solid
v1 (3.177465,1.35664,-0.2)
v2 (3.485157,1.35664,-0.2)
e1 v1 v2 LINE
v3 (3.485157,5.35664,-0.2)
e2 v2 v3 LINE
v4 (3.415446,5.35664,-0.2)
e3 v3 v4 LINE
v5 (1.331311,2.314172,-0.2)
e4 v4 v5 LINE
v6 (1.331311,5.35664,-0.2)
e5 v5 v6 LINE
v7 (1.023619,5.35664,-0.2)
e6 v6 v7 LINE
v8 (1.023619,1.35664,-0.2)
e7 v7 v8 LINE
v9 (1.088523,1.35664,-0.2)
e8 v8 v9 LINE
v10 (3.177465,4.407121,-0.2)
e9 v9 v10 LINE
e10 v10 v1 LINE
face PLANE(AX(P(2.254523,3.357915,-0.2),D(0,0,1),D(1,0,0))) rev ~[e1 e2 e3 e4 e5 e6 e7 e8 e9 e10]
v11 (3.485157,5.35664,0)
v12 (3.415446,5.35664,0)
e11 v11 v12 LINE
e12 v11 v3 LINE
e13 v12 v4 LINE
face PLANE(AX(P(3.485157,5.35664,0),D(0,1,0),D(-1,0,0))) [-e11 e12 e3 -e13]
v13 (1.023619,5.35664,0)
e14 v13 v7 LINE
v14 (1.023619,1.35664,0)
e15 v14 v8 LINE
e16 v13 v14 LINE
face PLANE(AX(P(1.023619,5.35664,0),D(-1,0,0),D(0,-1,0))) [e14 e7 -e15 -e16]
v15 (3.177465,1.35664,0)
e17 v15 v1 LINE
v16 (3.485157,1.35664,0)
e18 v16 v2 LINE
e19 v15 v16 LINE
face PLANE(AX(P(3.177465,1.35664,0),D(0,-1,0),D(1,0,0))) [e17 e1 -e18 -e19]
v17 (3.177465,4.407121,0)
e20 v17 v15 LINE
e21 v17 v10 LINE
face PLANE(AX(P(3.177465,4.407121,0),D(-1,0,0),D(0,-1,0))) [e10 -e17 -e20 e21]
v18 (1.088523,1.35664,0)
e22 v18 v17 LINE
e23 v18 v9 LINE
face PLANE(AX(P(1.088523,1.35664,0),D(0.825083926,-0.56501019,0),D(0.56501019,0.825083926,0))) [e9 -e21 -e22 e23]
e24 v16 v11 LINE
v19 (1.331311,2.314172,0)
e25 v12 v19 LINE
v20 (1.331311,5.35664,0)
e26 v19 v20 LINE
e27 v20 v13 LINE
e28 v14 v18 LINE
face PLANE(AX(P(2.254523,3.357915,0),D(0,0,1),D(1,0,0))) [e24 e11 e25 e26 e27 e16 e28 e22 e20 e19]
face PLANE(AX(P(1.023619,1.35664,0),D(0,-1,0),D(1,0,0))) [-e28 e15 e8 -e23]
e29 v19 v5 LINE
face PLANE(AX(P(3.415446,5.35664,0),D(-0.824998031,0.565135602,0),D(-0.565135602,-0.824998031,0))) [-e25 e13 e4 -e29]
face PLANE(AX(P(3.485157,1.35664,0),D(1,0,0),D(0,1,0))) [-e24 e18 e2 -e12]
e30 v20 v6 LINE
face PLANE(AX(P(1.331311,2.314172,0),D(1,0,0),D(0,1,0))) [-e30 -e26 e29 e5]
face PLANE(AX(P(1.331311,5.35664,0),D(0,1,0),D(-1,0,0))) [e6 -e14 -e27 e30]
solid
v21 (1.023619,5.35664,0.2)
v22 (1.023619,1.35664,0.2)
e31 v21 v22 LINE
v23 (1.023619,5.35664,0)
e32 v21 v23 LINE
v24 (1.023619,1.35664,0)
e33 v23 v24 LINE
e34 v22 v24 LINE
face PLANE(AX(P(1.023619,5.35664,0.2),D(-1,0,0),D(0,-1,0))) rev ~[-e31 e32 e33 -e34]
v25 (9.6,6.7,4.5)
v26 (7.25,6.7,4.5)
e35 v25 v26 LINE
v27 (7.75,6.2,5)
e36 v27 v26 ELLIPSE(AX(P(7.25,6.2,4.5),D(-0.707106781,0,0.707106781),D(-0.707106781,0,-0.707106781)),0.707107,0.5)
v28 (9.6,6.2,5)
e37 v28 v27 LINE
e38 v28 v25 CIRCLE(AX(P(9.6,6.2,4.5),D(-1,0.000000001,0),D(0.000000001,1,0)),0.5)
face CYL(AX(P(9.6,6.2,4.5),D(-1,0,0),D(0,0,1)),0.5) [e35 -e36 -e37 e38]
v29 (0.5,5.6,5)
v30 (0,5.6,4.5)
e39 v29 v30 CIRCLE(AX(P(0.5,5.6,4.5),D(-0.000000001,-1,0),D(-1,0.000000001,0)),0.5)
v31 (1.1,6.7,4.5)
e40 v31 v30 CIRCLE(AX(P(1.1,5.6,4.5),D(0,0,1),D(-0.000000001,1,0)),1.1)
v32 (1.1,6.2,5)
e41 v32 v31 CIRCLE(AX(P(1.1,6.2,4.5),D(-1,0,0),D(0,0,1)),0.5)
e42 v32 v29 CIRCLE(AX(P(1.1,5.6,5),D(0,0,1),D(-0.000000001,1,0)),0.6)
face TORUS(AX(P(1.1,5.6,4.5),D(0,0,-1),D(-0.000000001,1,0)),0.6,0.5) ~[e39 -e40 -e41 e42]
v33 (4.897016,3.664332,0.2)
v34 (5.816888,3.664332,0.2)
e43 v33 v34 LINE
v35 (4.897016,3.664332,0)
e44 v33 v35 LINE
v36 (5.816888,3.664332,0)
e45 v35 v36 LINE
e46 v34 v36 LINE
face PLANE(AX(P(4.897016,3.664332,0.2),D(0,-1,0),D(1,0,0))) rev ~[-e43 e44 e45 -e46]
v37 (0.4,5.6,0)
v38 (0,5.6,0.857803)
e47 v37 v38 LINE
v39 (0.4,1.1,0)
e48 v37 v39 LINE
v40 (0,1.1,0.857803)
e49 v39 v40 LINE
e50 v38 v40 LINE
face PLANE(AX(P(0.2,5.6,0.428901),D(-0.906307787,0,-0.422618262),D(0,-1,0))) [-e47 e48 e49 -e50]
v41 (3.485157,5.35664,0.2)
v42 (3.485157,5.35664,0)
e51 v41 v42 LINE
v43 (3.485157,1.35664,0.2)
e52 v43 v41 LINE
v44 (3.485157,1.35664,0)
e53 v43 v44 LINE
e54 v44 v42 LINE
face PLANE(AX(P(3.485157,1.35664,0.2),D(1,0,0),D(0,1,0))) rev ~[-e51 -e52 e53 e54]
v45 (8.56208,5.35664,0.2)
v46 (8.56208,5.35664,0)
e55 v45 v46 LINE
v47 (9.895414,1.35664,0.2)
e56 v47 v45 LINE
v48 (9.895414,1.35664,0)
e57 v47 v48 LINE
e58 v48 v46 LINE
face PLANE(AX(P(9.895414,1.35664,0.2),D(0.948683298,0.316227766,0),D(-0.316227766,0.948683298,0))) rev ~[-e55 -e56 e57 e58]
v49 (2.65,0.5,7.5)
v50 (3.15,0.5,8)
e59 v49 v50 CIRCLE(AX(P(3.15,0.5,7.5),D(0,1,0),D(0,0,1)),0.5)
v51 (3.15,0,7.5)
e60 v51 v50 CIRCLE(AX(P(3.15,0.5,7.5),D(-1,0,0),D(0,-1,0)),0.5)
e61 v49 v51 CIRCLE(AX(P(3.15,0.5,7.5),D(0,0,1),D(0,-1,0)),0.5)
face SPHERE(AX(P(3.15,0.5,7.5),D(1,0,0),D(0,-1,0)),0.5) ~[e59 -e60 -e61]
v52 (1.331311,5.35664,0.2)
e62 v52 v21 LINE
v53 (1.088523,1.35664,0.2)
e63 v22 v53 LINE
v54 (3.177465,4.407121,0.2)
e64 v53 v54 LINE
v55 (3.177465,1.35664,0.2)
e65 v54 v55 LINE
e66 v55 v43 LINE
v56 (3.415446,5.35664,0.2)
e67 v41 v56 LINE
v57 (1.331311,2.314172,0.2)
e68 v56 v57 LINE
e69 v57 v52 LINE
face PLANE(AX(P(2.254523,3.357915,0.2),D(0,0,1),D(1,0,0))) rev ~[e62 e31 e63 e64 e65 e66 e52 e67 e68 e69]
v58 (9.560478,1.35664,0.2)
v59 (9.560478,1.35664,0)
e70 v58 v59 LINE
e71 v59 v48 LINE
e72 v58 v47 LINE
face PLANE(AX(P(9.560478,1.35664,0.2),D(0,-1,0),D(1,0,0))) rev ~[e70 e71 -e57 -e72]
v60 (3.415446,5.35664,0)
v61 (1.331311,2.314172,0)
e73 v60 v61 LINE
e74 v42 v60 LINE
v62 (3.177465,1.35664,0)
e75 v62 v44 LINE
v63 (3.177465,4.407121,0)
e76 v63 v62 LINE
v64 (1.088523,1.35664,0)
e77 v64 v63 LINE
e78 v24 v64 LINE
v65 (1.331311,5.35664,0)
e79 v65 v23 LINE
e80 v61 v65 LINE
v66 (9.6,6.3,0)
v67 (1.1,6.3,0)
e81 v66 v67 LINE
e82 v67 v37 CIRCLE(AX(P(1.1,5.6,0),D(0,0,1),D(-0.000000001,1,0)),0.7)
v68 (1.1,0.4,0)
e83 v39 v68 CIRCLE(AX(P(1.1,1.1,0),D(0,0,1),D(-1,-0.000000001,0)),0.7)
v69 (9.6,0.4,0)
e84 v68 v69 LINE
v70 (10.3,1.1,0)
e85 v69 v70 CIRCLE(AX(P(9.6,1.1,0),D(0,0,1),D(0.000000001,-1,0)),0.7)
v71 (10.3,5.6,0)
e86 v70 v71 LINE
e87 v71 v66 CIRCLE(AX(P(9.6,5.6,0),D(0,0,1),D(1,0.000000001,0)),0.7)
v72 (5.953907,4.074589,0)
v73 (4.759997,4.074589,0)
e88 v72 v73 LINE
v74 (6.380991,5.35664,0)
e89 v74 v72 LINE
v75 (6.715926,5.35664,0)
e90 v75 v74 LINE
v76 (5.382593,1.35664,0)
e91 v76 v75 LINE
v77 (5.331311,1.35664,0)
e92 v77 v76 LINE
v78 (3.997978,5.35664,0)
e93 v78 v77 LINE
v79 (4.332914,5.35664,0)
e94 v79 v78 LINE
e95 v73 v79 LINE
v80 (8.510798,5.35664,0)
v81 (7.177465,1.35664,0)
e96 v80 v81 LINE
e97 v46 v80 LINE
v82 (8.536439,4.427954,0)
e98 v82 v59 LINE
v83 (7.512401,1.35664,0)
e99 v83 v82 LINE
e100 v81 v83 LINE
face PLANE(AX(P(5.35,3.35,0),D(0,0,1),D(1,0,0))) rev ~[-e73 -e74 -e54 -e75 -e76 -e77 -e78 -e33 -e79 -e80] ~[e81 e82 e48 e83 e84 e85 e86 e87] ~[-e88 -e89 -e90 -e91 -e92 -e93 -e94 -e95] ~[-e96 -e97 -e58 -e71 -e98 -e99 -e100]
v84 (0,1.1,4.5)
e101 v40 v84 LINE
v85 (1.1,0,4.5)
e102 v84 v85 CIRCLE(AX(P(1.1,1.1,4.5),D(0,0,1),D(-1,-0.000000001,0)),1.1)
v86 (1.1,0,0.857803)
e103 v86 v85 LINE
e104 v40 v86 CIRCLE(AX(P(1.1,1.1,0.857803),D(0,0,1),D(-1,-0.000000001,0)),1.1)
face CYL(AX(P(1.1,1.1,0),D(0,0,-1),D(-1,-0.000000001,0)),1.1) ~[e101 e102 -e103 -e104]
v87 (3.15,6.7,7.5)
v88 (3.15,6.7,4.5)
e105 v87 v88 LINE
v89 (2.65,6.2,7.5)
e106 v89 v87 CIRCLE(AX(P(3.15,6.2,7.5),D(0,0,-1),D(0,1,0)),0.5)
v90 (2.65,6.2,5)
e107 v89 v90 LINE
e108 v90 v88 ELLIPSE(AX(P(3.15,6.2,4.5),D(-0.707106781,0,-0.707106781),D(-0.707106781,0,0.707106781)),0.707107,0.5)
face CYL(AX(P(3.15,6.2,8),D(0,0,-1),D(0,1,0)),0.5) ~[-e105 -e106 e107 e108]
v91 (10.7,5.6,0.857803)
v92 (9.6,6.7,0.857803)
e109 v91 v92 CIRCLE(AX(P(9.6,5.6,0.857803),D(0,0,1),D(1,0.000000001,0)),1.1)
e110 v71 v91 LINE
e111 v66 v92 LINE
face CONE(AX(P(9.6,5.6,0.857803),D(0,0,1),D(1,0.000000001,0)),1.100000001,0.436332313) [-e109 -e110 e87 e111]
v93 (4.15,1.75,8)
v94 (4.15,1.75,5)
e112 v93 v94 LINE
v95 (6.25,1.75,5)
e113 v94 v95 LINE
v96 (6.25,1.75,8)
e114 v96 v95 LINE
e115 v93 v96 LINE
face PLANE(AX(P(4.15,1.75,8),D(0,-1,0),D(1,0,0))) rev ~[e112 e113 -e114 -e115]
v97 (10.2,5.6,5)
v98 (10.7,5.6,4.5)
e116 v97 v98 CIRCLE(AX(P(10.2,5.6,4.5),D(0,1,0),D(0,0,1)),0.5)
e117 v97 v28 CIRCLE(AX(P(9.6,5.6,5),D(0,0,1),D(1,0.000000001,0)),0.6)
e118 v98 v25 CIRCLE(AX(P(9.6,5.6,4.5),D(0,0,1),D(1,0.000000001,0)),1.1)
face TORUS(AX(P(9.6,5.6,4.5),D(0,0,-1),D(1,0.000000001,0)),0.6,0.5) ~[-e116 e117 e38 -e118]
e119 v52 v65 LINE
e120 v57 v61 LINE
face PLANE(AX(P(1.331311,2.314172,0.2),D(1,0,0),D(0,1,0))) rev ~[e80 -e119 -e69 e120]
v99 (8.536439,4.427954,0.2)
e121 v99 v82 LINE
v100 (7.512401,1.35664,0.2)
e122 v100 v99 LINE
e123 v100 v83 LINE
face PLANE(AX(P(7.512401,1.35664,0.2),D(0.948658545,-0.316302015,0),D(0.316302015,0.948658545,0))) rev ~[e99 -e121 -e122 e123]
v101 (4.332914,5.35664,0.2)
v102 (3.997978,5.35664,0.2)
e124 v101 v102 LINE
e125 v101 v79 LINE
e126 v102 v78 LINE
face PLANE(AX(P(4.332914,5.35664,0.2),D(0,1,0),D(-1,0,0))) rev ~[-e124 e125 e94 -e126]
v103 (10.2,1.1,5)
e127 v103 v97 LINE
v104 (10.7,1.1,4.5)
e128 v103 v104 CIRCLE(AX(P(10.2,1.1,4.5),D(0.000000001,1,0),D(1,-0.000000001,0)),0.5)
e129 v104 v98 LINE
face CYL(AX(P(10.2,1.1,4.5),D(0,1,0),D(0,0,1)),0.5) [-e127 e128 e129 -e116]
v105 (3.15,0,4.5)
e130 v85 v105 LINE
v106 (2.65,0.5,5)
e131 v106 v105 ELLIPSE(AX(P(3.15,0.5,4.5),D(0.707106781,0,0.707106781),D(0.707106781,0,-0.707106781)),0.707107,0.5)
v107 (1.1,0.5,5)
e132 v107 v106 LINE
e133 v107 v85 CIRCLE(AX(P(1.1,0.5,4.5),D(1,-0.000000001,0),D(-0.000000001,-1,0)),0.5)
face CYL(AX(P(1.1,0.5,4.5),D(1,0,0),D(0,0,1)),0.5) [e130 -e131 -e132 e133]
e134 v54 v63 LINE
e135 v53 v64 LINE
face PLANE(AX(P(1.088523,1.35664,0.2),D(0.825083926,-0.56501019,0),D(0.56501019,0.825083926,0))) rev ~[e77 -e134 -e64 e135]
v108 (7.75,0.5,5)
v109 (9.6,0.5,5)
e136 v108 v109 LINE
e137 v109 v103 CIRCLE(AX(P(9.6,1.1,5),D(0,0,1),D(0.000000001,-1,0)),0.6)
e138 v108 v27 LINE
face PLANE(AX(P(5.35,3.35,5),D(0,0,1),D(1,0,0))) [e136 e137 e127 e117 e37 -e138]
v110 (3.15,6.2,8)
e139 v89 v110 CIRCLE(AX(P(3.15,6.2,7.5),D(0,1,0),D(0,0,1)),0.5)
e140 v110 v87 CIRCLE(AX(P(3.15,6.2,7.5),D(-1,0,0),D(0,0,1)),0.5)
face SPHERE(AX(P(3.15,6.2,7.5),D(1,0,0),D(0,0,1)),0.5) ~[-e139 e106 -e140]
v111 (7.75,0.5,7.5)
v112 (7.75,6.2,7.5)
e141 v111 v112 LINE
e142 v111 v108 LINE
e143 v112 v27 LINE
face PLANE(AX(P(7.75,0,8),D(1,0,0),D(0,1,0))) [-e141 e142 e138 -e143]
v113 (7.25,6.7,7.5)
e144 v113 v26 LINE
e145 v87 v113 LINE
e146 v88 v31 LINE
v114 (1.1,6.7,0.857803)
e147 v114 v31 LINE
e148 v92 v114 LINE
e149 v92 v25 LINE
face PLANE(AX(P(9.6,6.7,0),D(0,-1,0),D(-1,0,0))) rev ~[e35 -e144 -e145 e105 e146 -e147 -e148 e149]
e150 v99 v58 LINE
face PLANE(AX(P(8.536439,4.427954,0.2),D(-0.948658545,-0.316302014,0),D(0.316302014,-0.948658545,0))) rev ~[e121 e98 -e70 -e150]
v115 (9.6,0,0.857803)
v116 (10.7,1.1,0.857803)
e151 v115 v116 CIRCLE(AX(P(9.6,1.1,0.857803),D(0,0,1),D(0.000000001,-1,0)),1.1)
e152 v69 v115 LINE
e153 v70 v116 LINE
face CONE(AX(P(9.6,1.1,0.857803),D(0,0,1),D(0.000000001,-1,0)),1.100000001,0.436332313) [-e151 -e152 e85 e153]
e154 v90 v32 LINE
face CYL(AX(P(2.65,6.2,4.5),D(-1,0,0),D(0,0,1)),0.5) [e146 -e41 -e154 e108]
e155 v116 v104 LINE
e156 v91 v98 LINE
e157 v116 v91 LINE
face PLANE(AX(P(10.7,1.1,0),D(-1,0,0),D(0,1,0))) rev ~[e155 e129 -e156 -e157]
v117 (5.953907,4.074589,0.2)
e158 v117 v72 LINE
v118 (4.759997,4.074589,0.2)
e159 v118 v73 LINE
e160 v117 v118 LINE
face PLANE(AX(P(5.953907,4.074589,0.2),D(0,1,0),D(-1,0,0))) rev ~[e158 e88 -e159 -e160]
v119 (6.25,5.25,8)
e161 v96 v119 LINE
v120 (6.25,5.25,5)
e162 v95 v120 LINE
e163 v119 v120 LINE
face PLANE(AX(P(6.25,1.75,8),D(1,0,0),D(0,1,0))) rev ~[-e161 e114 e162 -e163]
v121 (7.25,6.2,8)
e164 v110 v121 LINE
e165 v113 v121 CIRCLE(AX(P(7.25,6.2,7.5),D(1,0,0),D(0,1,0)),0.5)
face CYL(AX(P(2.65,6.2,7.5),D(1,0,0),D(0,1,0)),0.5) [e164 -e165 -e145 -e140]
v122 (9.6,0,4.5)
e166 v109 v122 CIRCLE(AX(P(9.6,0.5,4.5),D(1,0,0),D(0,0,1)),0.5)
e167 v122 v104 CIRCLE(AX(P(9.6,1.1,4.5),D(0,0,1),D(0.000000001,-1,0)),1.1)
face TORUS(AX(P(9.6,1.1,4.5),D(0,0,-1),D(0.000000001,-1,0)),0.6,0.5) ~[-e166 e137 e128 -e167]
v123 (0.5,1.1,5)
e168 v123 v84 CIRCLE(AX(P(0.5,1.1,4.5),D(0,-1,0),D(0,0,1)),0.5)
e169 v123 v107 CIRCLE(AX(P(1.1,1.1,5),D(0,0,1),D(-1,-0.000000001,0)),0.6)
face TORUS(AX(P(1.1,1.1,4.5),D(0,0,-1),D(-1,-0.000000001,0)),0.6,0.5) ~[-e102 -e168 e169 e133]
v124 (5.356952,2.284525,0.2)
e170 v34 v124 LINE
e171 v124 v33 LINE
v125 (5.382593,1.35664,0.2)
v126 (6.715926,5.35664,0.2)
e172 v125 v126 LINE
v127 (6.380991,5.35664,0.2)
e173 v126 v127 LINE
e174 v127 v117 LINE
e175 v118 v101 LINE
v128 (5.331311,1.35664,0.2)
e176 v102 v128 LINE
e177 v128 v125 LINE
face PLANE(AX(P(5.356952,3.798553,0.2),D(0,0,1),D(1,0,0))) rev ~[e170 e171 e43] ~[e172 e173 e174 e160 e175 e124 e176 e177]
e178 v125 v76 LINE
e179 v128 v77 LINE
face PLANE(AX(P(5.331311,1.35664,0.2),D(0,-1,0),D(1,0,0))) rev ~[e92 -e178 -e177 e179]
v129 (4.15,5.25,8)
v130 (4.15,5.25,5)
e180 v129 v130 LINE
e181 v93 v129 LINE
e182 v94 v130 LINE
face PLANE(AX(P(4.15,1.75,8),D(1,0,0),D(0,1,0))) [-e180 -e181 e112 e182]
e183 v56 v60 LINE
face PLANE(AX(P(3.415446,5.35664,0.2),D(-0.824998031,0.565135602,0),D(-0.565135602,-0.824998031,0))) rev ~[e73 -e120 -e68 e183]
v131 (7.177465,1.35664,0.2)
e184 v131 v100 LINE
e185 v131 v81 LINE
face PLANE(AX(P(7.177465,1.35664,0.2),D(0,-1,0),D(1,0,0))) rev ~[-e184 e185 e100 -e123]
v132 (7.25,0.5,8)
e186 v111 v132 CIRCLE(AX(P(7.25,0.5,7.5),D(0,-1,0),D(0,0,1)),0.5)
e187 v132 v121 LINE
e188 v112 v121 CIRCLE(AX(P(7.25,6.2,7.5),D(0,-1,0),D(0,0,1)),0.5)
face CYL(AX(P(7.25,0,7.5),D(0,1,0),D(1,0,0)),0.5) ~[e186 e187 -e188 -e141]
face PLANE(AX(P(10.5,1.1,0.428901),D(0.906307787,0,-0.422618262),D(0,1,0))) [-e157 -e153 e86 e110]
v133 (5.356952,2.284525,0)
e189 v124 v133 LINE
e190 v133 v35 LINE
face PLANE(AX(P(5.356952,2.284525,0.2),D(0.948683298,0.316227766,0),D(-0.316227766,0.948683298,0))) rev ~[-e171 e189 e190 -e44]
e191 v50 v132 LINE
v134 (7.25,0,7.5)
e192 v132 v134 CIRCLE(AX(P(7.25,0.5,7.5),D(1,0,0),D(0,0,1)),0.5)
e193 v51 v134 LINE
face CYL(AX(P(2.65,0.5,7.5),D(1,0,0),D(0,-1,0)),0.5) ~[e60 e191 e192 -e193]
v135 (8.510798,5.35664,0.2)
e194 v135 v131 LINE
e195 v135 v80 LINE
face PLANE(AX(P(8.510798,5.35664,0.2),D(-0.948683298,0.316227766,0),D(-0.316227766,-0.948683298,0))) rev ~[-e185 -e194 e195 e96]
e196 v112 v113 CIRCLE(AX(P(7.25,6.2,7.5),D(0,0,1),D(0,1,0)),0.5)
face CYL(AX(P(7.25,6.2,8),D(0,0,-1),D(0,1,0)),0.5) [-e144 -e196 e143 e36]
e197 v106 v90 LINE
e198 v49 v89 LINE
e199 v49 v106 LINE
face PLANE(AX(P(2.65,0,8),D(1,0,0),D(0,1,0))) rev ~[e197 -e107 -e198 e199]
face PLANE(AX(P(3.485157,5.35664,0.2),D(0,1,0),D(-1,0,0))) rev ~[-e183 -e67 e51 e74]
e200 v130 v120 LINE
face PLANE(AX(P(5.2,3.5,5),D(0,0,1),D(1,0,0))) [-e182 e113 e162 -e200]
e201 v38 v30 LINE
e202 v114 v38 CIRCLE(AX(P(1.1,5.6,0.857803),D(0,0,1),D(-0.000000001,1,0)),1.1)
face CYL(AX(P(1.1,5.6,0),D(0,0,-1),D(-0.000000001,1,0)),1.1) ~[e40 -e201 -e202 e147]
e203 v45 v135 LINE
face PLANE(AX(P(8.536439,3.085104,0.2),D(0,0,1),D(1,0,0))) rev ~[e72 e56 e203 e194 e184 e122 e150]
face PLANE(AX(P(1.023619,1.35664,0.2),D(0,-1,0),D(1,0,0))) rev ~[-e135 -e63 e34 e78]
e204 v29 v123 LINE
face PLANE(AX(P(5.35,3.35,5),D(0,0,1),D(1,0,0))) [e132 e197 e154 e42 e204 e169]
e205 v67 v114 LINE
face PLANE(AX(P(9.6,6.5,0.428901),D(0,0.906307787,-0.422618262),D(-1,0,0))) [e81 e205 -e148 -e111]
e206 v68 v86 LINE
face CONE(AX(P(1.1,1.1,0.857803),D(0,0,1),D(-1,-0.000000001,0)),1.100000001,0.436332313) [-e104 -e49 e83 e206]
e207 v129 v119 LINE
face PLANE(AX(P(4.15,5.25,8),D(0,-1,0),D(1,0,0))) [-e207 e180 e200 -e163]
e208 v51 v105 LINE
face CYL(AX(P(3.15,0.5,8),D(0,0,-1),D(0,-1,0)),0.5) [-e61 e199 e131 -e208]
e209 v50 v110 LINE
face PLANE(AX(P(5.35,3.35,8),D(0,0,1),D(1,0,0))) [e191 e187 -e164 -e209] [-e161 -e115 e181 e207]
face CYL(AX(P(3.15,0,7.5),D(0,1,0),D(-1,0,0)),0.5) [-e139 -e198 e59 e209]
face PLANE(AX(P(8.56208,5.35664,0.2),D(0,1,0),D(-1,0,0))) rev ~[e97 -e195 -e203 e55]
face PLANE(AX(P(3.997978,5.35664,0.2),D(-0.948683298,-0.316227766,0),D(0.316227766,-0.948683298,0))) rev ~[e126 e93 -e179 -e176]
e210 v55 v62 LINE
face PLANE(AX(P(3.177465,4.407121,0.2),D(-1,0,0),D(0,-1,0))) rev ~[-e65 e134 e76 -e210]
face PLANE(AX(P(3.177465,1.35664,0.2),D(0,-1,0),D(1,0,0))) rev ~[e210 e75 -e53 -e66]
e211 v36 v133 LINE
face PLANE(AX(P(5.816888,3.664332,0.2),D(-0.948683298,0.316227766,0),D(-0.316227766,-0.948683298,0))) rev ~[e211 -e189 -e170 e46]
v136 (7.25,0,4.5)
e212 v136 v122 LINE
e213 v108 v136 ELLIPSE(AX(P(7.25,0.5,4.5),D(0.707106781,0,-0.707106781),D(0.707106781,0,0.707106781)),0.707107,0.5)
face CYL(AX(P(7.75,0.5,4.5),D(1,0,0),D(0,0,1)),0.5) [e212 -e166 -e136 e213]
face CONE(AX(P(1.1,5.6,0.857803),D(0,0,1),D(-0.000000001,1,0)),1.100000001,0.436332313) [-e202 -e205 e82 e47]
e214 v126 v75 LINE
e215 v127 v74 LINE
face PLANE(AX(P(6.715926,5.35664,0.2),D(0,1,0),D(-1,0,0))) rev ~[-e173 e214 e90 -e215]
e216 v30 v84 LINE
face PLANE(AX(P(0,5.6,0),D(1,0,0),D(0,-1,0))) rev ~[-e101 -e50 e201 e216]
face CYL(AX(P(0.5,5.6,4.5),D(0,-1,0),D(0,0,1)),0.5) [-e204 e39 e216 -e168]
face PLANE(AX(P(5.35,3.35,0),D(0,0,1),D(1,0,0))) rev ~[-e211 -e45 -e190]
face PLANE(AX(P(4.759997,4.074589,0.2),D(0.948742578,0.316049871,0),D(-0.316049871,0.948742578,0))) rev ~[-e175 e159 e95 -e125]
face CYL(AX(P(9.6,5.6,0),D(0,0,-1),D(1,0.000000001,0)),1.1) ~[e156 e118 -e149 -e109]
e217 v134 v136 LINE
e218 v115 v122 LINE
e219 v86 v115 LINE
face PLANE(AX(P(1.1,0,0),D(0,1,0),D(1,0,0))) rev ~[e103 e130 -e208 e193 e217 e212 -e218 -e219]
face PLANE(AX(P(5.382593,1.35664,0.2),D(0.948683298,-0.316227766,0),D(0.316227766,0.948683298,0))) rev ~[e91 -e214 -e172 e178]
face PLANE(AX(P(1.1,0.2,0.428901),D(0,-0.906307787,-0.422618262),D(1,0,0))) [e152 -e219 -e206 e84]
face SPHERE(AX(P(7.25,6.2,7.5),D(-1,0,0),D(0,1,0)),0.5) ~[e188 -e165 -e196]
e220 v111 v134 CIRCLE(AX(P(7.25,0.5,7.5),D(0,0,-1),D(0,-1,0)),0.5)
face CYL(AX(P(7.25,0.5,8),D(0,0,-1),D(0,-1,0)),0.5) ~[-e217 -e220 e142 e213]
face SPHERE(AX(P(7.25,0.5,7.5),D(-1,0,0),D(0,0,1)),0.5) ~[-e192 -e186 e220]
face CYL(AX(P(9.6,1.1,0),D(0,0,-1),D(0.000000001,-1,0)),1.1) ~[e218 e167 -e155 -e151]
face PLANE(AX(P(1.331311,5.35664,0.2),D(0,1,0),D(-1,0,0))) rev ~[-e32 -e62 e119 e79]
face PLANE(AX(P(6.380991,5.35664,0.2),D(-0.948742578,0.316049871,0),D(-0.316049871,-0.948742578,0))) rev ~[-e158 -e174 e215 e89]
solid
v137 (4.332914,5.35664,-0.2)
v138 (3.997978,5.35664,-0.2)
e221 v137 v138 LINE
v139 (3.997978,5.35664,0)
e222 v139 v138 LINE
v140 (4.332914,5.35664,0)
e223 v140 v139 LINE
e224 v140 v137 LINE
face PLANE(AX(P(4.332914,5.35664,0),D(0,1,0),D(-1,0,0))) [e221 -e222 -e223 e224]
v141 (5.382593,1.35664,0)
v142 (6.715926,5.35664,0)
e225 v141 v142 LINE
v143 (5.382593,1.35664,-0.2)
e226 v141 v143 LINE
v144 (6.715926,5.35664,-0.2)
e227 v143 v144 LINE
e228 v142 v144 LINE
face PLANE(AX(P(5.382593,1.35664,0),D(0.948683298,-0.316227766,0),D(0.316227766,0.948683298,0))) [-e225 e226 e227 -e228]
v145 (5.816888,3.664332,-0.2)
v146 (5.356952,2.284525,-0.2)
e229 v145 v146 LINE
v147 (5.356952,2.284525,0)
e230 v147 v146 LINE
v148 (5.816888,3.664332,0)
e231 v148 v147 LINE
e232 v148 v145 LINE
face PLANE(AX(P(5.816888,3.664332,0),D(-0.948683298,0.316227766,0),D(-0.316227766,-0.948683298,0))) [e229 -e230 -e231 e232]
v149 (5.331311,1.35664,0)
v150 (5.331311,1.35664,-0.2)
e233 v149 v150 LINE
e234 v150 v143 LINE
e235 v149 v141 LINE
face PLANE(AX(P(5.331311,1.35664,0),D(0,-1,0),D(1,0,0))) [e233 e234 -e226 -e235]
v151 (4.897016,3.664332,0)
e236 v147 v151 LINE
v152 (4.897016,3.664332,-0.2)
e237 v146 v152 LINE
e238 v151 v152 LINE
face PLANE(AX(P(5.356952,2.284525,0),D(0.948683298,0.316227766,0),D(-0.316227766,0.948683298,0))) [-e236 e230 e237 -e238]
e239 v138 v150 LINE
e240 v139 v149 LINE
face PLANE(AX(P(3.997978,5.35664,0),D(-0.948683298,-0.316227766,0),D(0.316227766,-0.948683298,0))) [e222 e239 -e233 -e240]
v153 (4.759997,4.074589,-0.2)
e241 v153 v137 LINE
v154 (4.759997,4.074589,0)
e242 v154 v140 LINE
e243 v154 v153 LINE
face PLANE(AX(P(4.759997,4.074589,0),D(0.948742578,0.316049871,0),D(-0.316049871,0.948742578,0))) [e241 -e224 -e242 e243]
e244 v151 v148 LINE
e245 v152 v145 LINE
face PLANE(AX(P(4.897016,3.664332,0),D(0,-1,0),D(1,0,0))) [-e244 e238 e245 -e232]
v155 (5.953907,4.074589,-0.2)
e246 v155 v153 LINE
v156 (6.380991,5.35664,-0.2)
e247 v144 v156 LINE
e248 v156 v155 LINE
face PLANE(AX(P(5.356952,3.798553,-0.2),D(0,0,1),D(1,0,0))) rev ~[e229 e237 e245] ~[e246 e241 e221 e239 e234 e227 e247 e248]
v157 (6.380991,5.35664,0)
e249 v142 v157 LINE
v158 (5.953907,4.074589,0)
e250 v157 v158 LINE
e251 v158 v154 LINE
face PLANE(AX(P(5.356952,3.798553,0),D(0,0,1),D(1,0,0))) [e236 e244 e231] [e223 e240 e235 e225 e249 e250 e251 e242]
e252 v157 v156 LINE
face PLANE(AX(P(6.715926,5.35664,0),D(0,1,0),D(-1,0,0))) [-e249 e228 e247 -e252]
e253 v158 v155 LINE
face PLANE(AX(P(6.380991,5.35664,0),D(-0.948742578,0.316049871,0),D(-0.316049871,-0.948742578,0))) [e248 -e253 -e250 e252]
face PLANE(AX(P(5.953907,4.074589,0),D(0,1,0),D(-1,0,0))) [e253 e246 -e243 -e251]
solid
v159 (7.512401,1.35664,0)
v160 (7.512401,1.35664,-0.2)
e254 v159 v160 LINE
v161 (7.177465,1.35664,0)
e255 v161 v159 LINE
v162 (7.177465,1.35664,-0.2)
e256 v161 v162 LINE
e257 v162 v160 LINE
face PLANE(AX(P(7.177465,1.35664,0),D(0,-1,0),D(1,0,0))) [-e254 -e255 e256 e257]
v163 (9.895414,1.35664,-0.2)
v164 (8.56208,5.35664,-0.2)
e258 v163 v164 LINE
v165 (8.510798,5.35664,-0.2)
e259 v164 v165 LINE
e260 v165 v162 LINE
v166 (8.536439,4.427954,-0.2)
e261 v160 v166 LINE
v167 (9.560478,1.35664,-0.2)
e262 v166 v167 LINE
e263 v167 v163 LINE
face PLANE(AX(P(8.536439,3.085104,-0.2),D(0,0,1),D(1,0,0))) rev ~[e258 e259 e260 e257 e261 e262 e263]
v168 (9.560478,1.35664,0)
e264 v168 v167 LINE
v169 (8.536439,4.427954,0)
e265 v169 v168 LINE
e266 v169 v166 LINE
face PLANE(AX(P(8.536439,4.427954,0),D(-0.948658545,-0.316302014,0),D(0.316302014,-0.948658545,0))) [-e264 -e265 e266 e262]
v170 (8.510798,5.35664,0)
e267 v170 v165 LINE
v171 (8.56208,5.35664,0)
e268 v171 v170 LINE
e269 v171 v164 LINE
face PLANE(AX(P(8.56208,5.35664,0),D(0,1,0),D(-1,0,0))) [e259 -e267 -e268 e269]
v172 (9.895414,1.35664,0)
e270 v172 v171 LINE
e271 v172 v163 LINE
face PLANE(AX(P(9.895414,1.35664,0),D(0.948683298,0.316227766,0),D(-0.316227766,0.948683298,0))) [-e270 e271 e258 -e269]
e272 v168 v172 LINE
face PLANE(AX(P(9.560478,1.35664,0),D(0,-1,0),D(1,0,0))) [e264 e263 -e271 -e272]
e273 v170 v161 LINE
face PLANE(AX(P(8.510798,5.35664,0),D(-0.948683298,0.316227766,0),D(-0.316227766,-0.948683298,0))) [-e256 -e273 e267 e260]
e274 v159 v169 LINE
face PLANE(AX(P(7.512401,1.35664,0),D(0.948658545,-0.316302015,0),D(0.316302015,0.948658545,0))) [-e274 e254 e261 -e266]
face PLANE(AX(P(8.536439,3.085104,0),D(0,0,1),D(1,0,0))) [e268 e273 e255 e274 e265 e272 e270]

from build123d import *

# Parameters (mm, degrees)
BOSS_EXTRU_1_DEPTH      = 8
ESQUISSE3_W             = 2.1
ESQUISSE3_H             = 3.5
ENL_V_MAT_EXTRU_1_DEPTH = 3
ESQUISSE4_OUTSIDE_W     = 15.69
ESQUISSE4_OUTSIDE_H     = 11.69
ESQUISSE4_OUTSIDE_W_2   = 5.1
ESQUISSE4_OUTSIDE_H_2   = 6.7
ENL_V_MAT_EXTRU_2_DEPTH = 3
CONG_1_R                = 0.5
CHANFREIN1_SIZE         = 0.4
CHANFREIN1_SIZE2        = 0.857802768
ENL_V_MAT_EXTRU_3_DEPTH = 0.3
BOSS_EXTRU_2_START      = -0.2
BOSS_EXTRU_2_DEPTH      = 0.2
BOSS_EXTRU_2_2_DEPTH    = 0.2
BOSS_EXTRU_2_3_DEPTH    = 0.2


with BuildPart() as part:
    # Esquisse2 → Boss.-Extru.1 (new body)
    with BuildSketch(Plane.XY):
        with BuildLine():
            Line((1.1, 0), (9.6, 0))
            ThreePointArc((9.6, 0), (10.377817459, 0.322182541), (10.7, 1.1))
            Line((10.7, 1.1), (10.7, 5.6))
            ThreePointArc((10.7, 5.6), (10.377817459, 6.377817459), (9.6, 6.7))
            Line((9.6, 6.7), (1.1, 6.7))
            ThreePointArc((1.1, 6.7), (0.322182541, 6.377817459), (0, 5.6))
            Line((0, 5.6), (0, 1.1))
            ThreePointArc((0, 1.1), (0.322182541, 0.322182541), (1.1, 0))
        make_face()
    extrude(amount=BOSS_EXTRU_1_DEPTH)

    # Esquisse3 → Enlèv. mat.-Extru.1 (cut)
    with BuildSketch(Plane.XY.offset(8)):
        with Locations((5.2, 3.5)):
            Rectangle(ESQUISSE3_W, ESQUISSE3_H)
    extrude(amount=-ENL_V_MAT_EXTRU_1_DEPTH, mode=Mode.SUBTRACT)

    # Esquisse4 outside → Enlèv. mat.-Extru.2 (cut)
    with BuildSketch(Plane.XY.offset(8)):
        with Locations((5.35, 3.35)):
            Rectangle(ESQUISSE4_OUTSIDE_W, ESQUISSE4_OUTSIDE_H)
        with Locations((5.2, 3.35)):
            Rectangle(ESQUISSE4_OUTSIDE_W_2, ESQUISSE4_OUTSIDE_H_2, mode=Mode.SUBTRACT)
    extrude(amount=-ENL_V_MAT_EXTRU_2_DEPTH, mode=Mode.SUBTRACT)

    # Congé1
    cong_1_edges = [part.edges().sort_by_distance(p)[0] for p in [
        (5.2, 6.7, 8),
        (5.2, 0, 8),
        (10.7, 3.35, 5),
        (1.875, 6.7, 5),
        (0.322182541, 6.377817459, 5),
        (0, 3.35, 5),
        (0.322182541, 0.322182541, 5),
        (1.875, 0, 5),
        (8.675, 0, 5),
        (10.377817459, 0.322182541, 5),
        (10.377817459, 6.377817459, 5),
        (8.675, 6.7, 5),
        (7.75, 6.7, 6.5),
        (7.75, 3.35, 8),
        (7.75, 0, 6.5),
        (2.65, 0, 6.5),
        (2.65, 3.35, 8),
        (2.65, 6.7, 6.5),
    ]]
    fillet(cong_1_edges, radius=CONG_1_R)

    # Chanfrein1
    chanfrein1_edges = [part.edges().sort_by_distance(p)[0] for p in [
        (5.35, 6.7, 0),
        (10.377817459, 6.377817459, 0),
        (10.7, 3.35, 0),
        (10.377817459, 0.322182541, 0),
        (5.35, 0, 0),
        (0.322182541, 0.322182541, 0),
        (0, 3.35, 0),
        (0.322182541, 6.377817459, 0),
    ]]
    chanfrein1_side = [part.faces().sort_by_distance(p)[0] for p in [
        (5.35, 3.35, 0),
    ]]
    chamfer(chanfrein1_edges, length=CHANFREIN1_SIZE, length2=CHANFREIN1_SIZE2, reference=chanfrein1_side[0])

    # Esquisse5 → Enlèv. mat.-Extru.3 (cut)
    # profile 1 of 3: a face of its own
    with BuildSketch(Plane.XY.offset(0.2)):
        Polygon((1.023618725, 5.356639893), (1.023618725, 1.356639893), (1.088522571, 1.356639893), (3.177464879, 4.407120662), (3.177464879, 1.356639893), (3.485157187, 1.356639893), (3.485157187, 5.356639893), (3.415445648, 5.356639893), (1.331311033, 2.314171944), (1.331311033, 5.356639893), align=None)
    # profile 2 of 3: a face of its own
    with BuildSketch(Plane.XY.offset(0.2)):
        Polygon((5.382593084, 1.356639893), (6.715926417, 5.356639893), (6.38099052, 5.356639893), (5.953907187, 4.074588611), (4.75999693, 4.074588611), (4.332913597, 5.356639893), (3.997977699, 5.356639893), (5.331311033, 1.356639893), align=None)
        Polygon((5.356952058, 2.284524508), (4.897016161, 3.6643322), (5.816887956, 3.6643322), align=None, mode=Mode.SUBTRACT)
    # profile 3 of 3: a face of its own
    with BuildSketch(Plane.XY.offset(0.2)):
        Polygon((7.177464879, 1.356639893), (7.512400776, 1.356639893), (8.536439238, 4.427953995), (9.560477699, 1.356639893), (9.895413597, 1.356639893), (8.562080264, 5.356639893), (8.510798212, 5.356639893), align=None)
    extrude(amount=-ENL_V_MAT_EXTRU_3_DEPTH, mode=Mode.SUBTRACT)


with BuildPart() as body_2:
    # Esquisse5<3> → Boss.-Extru.2 (new body)
    with BuildSketch(Plane.XY.offset(0.2).offset(BOSS_EXTRU_2_START)):
        Polygon((1.023618725, 5.356639893), (1.023618725, 1.356639893), (1.088522571, 1.356639893), (3.177464879, 4.407120662), (3.177464879, 1.356639893), (3.485157187, 1.356639893), (3.485157187, 5.356639893), (3.415445648, 5.356639893), (1.331311033, 2.314171944), (1.331311033, 5.356639893), align=None)
    extrude(amount=-BOSS_EXTRU_2_DEPTH)


with BuildPart() as body_3:
    # Esquisse5<3> → Boss.-Extru.2 2 (new body)
    with BuildSketch(Plane.XY.offset(0.2).offset(BOSS_EXTRU_2_START)):
        Polygon((5.382593084, 1.356639893), (6.715926417, 5.356639893), (6.38099052, 5.356639893), (5.953907187, 4.074588611), (4.75999693, 4.074588611), (4.332913597, 5.356639893), (3.997977699, 5.356639893), (5.331311033, 1.356639893), align=None)
        Polygon((5.356952058, 2.284524508), (4.897016161, 3.6643322), (5.816887956, 3.6643322), align=None, mode=Mode.SUBTRACT)
    extrude(amount=-BOSS_EXTRU_2_2_DEPTH)


with BuildPart() as body_4:
    # Esquisse5<3> → Boss.-Extru.2 3 (new body)
    with BuildSketch(Plane.XY.offset(0.2).offset(BOSS_EXTRU_2_START)):
        Polygon((7.177464879, 1.356639893), (7.512400776, 1.356639893), (8.536439238, 4.427953995), (9.560477699, 1.356639893), (9.895413597, 1.356639893), (8.562080264, 5.356639893), (8.510798212, 5.356639893), align=None)
    extrude(amount=-BOSS_EXTRU_2_3_DEPTH)


solid = Compound([part.part, body_2.part, body_3.part, body_4.part])
